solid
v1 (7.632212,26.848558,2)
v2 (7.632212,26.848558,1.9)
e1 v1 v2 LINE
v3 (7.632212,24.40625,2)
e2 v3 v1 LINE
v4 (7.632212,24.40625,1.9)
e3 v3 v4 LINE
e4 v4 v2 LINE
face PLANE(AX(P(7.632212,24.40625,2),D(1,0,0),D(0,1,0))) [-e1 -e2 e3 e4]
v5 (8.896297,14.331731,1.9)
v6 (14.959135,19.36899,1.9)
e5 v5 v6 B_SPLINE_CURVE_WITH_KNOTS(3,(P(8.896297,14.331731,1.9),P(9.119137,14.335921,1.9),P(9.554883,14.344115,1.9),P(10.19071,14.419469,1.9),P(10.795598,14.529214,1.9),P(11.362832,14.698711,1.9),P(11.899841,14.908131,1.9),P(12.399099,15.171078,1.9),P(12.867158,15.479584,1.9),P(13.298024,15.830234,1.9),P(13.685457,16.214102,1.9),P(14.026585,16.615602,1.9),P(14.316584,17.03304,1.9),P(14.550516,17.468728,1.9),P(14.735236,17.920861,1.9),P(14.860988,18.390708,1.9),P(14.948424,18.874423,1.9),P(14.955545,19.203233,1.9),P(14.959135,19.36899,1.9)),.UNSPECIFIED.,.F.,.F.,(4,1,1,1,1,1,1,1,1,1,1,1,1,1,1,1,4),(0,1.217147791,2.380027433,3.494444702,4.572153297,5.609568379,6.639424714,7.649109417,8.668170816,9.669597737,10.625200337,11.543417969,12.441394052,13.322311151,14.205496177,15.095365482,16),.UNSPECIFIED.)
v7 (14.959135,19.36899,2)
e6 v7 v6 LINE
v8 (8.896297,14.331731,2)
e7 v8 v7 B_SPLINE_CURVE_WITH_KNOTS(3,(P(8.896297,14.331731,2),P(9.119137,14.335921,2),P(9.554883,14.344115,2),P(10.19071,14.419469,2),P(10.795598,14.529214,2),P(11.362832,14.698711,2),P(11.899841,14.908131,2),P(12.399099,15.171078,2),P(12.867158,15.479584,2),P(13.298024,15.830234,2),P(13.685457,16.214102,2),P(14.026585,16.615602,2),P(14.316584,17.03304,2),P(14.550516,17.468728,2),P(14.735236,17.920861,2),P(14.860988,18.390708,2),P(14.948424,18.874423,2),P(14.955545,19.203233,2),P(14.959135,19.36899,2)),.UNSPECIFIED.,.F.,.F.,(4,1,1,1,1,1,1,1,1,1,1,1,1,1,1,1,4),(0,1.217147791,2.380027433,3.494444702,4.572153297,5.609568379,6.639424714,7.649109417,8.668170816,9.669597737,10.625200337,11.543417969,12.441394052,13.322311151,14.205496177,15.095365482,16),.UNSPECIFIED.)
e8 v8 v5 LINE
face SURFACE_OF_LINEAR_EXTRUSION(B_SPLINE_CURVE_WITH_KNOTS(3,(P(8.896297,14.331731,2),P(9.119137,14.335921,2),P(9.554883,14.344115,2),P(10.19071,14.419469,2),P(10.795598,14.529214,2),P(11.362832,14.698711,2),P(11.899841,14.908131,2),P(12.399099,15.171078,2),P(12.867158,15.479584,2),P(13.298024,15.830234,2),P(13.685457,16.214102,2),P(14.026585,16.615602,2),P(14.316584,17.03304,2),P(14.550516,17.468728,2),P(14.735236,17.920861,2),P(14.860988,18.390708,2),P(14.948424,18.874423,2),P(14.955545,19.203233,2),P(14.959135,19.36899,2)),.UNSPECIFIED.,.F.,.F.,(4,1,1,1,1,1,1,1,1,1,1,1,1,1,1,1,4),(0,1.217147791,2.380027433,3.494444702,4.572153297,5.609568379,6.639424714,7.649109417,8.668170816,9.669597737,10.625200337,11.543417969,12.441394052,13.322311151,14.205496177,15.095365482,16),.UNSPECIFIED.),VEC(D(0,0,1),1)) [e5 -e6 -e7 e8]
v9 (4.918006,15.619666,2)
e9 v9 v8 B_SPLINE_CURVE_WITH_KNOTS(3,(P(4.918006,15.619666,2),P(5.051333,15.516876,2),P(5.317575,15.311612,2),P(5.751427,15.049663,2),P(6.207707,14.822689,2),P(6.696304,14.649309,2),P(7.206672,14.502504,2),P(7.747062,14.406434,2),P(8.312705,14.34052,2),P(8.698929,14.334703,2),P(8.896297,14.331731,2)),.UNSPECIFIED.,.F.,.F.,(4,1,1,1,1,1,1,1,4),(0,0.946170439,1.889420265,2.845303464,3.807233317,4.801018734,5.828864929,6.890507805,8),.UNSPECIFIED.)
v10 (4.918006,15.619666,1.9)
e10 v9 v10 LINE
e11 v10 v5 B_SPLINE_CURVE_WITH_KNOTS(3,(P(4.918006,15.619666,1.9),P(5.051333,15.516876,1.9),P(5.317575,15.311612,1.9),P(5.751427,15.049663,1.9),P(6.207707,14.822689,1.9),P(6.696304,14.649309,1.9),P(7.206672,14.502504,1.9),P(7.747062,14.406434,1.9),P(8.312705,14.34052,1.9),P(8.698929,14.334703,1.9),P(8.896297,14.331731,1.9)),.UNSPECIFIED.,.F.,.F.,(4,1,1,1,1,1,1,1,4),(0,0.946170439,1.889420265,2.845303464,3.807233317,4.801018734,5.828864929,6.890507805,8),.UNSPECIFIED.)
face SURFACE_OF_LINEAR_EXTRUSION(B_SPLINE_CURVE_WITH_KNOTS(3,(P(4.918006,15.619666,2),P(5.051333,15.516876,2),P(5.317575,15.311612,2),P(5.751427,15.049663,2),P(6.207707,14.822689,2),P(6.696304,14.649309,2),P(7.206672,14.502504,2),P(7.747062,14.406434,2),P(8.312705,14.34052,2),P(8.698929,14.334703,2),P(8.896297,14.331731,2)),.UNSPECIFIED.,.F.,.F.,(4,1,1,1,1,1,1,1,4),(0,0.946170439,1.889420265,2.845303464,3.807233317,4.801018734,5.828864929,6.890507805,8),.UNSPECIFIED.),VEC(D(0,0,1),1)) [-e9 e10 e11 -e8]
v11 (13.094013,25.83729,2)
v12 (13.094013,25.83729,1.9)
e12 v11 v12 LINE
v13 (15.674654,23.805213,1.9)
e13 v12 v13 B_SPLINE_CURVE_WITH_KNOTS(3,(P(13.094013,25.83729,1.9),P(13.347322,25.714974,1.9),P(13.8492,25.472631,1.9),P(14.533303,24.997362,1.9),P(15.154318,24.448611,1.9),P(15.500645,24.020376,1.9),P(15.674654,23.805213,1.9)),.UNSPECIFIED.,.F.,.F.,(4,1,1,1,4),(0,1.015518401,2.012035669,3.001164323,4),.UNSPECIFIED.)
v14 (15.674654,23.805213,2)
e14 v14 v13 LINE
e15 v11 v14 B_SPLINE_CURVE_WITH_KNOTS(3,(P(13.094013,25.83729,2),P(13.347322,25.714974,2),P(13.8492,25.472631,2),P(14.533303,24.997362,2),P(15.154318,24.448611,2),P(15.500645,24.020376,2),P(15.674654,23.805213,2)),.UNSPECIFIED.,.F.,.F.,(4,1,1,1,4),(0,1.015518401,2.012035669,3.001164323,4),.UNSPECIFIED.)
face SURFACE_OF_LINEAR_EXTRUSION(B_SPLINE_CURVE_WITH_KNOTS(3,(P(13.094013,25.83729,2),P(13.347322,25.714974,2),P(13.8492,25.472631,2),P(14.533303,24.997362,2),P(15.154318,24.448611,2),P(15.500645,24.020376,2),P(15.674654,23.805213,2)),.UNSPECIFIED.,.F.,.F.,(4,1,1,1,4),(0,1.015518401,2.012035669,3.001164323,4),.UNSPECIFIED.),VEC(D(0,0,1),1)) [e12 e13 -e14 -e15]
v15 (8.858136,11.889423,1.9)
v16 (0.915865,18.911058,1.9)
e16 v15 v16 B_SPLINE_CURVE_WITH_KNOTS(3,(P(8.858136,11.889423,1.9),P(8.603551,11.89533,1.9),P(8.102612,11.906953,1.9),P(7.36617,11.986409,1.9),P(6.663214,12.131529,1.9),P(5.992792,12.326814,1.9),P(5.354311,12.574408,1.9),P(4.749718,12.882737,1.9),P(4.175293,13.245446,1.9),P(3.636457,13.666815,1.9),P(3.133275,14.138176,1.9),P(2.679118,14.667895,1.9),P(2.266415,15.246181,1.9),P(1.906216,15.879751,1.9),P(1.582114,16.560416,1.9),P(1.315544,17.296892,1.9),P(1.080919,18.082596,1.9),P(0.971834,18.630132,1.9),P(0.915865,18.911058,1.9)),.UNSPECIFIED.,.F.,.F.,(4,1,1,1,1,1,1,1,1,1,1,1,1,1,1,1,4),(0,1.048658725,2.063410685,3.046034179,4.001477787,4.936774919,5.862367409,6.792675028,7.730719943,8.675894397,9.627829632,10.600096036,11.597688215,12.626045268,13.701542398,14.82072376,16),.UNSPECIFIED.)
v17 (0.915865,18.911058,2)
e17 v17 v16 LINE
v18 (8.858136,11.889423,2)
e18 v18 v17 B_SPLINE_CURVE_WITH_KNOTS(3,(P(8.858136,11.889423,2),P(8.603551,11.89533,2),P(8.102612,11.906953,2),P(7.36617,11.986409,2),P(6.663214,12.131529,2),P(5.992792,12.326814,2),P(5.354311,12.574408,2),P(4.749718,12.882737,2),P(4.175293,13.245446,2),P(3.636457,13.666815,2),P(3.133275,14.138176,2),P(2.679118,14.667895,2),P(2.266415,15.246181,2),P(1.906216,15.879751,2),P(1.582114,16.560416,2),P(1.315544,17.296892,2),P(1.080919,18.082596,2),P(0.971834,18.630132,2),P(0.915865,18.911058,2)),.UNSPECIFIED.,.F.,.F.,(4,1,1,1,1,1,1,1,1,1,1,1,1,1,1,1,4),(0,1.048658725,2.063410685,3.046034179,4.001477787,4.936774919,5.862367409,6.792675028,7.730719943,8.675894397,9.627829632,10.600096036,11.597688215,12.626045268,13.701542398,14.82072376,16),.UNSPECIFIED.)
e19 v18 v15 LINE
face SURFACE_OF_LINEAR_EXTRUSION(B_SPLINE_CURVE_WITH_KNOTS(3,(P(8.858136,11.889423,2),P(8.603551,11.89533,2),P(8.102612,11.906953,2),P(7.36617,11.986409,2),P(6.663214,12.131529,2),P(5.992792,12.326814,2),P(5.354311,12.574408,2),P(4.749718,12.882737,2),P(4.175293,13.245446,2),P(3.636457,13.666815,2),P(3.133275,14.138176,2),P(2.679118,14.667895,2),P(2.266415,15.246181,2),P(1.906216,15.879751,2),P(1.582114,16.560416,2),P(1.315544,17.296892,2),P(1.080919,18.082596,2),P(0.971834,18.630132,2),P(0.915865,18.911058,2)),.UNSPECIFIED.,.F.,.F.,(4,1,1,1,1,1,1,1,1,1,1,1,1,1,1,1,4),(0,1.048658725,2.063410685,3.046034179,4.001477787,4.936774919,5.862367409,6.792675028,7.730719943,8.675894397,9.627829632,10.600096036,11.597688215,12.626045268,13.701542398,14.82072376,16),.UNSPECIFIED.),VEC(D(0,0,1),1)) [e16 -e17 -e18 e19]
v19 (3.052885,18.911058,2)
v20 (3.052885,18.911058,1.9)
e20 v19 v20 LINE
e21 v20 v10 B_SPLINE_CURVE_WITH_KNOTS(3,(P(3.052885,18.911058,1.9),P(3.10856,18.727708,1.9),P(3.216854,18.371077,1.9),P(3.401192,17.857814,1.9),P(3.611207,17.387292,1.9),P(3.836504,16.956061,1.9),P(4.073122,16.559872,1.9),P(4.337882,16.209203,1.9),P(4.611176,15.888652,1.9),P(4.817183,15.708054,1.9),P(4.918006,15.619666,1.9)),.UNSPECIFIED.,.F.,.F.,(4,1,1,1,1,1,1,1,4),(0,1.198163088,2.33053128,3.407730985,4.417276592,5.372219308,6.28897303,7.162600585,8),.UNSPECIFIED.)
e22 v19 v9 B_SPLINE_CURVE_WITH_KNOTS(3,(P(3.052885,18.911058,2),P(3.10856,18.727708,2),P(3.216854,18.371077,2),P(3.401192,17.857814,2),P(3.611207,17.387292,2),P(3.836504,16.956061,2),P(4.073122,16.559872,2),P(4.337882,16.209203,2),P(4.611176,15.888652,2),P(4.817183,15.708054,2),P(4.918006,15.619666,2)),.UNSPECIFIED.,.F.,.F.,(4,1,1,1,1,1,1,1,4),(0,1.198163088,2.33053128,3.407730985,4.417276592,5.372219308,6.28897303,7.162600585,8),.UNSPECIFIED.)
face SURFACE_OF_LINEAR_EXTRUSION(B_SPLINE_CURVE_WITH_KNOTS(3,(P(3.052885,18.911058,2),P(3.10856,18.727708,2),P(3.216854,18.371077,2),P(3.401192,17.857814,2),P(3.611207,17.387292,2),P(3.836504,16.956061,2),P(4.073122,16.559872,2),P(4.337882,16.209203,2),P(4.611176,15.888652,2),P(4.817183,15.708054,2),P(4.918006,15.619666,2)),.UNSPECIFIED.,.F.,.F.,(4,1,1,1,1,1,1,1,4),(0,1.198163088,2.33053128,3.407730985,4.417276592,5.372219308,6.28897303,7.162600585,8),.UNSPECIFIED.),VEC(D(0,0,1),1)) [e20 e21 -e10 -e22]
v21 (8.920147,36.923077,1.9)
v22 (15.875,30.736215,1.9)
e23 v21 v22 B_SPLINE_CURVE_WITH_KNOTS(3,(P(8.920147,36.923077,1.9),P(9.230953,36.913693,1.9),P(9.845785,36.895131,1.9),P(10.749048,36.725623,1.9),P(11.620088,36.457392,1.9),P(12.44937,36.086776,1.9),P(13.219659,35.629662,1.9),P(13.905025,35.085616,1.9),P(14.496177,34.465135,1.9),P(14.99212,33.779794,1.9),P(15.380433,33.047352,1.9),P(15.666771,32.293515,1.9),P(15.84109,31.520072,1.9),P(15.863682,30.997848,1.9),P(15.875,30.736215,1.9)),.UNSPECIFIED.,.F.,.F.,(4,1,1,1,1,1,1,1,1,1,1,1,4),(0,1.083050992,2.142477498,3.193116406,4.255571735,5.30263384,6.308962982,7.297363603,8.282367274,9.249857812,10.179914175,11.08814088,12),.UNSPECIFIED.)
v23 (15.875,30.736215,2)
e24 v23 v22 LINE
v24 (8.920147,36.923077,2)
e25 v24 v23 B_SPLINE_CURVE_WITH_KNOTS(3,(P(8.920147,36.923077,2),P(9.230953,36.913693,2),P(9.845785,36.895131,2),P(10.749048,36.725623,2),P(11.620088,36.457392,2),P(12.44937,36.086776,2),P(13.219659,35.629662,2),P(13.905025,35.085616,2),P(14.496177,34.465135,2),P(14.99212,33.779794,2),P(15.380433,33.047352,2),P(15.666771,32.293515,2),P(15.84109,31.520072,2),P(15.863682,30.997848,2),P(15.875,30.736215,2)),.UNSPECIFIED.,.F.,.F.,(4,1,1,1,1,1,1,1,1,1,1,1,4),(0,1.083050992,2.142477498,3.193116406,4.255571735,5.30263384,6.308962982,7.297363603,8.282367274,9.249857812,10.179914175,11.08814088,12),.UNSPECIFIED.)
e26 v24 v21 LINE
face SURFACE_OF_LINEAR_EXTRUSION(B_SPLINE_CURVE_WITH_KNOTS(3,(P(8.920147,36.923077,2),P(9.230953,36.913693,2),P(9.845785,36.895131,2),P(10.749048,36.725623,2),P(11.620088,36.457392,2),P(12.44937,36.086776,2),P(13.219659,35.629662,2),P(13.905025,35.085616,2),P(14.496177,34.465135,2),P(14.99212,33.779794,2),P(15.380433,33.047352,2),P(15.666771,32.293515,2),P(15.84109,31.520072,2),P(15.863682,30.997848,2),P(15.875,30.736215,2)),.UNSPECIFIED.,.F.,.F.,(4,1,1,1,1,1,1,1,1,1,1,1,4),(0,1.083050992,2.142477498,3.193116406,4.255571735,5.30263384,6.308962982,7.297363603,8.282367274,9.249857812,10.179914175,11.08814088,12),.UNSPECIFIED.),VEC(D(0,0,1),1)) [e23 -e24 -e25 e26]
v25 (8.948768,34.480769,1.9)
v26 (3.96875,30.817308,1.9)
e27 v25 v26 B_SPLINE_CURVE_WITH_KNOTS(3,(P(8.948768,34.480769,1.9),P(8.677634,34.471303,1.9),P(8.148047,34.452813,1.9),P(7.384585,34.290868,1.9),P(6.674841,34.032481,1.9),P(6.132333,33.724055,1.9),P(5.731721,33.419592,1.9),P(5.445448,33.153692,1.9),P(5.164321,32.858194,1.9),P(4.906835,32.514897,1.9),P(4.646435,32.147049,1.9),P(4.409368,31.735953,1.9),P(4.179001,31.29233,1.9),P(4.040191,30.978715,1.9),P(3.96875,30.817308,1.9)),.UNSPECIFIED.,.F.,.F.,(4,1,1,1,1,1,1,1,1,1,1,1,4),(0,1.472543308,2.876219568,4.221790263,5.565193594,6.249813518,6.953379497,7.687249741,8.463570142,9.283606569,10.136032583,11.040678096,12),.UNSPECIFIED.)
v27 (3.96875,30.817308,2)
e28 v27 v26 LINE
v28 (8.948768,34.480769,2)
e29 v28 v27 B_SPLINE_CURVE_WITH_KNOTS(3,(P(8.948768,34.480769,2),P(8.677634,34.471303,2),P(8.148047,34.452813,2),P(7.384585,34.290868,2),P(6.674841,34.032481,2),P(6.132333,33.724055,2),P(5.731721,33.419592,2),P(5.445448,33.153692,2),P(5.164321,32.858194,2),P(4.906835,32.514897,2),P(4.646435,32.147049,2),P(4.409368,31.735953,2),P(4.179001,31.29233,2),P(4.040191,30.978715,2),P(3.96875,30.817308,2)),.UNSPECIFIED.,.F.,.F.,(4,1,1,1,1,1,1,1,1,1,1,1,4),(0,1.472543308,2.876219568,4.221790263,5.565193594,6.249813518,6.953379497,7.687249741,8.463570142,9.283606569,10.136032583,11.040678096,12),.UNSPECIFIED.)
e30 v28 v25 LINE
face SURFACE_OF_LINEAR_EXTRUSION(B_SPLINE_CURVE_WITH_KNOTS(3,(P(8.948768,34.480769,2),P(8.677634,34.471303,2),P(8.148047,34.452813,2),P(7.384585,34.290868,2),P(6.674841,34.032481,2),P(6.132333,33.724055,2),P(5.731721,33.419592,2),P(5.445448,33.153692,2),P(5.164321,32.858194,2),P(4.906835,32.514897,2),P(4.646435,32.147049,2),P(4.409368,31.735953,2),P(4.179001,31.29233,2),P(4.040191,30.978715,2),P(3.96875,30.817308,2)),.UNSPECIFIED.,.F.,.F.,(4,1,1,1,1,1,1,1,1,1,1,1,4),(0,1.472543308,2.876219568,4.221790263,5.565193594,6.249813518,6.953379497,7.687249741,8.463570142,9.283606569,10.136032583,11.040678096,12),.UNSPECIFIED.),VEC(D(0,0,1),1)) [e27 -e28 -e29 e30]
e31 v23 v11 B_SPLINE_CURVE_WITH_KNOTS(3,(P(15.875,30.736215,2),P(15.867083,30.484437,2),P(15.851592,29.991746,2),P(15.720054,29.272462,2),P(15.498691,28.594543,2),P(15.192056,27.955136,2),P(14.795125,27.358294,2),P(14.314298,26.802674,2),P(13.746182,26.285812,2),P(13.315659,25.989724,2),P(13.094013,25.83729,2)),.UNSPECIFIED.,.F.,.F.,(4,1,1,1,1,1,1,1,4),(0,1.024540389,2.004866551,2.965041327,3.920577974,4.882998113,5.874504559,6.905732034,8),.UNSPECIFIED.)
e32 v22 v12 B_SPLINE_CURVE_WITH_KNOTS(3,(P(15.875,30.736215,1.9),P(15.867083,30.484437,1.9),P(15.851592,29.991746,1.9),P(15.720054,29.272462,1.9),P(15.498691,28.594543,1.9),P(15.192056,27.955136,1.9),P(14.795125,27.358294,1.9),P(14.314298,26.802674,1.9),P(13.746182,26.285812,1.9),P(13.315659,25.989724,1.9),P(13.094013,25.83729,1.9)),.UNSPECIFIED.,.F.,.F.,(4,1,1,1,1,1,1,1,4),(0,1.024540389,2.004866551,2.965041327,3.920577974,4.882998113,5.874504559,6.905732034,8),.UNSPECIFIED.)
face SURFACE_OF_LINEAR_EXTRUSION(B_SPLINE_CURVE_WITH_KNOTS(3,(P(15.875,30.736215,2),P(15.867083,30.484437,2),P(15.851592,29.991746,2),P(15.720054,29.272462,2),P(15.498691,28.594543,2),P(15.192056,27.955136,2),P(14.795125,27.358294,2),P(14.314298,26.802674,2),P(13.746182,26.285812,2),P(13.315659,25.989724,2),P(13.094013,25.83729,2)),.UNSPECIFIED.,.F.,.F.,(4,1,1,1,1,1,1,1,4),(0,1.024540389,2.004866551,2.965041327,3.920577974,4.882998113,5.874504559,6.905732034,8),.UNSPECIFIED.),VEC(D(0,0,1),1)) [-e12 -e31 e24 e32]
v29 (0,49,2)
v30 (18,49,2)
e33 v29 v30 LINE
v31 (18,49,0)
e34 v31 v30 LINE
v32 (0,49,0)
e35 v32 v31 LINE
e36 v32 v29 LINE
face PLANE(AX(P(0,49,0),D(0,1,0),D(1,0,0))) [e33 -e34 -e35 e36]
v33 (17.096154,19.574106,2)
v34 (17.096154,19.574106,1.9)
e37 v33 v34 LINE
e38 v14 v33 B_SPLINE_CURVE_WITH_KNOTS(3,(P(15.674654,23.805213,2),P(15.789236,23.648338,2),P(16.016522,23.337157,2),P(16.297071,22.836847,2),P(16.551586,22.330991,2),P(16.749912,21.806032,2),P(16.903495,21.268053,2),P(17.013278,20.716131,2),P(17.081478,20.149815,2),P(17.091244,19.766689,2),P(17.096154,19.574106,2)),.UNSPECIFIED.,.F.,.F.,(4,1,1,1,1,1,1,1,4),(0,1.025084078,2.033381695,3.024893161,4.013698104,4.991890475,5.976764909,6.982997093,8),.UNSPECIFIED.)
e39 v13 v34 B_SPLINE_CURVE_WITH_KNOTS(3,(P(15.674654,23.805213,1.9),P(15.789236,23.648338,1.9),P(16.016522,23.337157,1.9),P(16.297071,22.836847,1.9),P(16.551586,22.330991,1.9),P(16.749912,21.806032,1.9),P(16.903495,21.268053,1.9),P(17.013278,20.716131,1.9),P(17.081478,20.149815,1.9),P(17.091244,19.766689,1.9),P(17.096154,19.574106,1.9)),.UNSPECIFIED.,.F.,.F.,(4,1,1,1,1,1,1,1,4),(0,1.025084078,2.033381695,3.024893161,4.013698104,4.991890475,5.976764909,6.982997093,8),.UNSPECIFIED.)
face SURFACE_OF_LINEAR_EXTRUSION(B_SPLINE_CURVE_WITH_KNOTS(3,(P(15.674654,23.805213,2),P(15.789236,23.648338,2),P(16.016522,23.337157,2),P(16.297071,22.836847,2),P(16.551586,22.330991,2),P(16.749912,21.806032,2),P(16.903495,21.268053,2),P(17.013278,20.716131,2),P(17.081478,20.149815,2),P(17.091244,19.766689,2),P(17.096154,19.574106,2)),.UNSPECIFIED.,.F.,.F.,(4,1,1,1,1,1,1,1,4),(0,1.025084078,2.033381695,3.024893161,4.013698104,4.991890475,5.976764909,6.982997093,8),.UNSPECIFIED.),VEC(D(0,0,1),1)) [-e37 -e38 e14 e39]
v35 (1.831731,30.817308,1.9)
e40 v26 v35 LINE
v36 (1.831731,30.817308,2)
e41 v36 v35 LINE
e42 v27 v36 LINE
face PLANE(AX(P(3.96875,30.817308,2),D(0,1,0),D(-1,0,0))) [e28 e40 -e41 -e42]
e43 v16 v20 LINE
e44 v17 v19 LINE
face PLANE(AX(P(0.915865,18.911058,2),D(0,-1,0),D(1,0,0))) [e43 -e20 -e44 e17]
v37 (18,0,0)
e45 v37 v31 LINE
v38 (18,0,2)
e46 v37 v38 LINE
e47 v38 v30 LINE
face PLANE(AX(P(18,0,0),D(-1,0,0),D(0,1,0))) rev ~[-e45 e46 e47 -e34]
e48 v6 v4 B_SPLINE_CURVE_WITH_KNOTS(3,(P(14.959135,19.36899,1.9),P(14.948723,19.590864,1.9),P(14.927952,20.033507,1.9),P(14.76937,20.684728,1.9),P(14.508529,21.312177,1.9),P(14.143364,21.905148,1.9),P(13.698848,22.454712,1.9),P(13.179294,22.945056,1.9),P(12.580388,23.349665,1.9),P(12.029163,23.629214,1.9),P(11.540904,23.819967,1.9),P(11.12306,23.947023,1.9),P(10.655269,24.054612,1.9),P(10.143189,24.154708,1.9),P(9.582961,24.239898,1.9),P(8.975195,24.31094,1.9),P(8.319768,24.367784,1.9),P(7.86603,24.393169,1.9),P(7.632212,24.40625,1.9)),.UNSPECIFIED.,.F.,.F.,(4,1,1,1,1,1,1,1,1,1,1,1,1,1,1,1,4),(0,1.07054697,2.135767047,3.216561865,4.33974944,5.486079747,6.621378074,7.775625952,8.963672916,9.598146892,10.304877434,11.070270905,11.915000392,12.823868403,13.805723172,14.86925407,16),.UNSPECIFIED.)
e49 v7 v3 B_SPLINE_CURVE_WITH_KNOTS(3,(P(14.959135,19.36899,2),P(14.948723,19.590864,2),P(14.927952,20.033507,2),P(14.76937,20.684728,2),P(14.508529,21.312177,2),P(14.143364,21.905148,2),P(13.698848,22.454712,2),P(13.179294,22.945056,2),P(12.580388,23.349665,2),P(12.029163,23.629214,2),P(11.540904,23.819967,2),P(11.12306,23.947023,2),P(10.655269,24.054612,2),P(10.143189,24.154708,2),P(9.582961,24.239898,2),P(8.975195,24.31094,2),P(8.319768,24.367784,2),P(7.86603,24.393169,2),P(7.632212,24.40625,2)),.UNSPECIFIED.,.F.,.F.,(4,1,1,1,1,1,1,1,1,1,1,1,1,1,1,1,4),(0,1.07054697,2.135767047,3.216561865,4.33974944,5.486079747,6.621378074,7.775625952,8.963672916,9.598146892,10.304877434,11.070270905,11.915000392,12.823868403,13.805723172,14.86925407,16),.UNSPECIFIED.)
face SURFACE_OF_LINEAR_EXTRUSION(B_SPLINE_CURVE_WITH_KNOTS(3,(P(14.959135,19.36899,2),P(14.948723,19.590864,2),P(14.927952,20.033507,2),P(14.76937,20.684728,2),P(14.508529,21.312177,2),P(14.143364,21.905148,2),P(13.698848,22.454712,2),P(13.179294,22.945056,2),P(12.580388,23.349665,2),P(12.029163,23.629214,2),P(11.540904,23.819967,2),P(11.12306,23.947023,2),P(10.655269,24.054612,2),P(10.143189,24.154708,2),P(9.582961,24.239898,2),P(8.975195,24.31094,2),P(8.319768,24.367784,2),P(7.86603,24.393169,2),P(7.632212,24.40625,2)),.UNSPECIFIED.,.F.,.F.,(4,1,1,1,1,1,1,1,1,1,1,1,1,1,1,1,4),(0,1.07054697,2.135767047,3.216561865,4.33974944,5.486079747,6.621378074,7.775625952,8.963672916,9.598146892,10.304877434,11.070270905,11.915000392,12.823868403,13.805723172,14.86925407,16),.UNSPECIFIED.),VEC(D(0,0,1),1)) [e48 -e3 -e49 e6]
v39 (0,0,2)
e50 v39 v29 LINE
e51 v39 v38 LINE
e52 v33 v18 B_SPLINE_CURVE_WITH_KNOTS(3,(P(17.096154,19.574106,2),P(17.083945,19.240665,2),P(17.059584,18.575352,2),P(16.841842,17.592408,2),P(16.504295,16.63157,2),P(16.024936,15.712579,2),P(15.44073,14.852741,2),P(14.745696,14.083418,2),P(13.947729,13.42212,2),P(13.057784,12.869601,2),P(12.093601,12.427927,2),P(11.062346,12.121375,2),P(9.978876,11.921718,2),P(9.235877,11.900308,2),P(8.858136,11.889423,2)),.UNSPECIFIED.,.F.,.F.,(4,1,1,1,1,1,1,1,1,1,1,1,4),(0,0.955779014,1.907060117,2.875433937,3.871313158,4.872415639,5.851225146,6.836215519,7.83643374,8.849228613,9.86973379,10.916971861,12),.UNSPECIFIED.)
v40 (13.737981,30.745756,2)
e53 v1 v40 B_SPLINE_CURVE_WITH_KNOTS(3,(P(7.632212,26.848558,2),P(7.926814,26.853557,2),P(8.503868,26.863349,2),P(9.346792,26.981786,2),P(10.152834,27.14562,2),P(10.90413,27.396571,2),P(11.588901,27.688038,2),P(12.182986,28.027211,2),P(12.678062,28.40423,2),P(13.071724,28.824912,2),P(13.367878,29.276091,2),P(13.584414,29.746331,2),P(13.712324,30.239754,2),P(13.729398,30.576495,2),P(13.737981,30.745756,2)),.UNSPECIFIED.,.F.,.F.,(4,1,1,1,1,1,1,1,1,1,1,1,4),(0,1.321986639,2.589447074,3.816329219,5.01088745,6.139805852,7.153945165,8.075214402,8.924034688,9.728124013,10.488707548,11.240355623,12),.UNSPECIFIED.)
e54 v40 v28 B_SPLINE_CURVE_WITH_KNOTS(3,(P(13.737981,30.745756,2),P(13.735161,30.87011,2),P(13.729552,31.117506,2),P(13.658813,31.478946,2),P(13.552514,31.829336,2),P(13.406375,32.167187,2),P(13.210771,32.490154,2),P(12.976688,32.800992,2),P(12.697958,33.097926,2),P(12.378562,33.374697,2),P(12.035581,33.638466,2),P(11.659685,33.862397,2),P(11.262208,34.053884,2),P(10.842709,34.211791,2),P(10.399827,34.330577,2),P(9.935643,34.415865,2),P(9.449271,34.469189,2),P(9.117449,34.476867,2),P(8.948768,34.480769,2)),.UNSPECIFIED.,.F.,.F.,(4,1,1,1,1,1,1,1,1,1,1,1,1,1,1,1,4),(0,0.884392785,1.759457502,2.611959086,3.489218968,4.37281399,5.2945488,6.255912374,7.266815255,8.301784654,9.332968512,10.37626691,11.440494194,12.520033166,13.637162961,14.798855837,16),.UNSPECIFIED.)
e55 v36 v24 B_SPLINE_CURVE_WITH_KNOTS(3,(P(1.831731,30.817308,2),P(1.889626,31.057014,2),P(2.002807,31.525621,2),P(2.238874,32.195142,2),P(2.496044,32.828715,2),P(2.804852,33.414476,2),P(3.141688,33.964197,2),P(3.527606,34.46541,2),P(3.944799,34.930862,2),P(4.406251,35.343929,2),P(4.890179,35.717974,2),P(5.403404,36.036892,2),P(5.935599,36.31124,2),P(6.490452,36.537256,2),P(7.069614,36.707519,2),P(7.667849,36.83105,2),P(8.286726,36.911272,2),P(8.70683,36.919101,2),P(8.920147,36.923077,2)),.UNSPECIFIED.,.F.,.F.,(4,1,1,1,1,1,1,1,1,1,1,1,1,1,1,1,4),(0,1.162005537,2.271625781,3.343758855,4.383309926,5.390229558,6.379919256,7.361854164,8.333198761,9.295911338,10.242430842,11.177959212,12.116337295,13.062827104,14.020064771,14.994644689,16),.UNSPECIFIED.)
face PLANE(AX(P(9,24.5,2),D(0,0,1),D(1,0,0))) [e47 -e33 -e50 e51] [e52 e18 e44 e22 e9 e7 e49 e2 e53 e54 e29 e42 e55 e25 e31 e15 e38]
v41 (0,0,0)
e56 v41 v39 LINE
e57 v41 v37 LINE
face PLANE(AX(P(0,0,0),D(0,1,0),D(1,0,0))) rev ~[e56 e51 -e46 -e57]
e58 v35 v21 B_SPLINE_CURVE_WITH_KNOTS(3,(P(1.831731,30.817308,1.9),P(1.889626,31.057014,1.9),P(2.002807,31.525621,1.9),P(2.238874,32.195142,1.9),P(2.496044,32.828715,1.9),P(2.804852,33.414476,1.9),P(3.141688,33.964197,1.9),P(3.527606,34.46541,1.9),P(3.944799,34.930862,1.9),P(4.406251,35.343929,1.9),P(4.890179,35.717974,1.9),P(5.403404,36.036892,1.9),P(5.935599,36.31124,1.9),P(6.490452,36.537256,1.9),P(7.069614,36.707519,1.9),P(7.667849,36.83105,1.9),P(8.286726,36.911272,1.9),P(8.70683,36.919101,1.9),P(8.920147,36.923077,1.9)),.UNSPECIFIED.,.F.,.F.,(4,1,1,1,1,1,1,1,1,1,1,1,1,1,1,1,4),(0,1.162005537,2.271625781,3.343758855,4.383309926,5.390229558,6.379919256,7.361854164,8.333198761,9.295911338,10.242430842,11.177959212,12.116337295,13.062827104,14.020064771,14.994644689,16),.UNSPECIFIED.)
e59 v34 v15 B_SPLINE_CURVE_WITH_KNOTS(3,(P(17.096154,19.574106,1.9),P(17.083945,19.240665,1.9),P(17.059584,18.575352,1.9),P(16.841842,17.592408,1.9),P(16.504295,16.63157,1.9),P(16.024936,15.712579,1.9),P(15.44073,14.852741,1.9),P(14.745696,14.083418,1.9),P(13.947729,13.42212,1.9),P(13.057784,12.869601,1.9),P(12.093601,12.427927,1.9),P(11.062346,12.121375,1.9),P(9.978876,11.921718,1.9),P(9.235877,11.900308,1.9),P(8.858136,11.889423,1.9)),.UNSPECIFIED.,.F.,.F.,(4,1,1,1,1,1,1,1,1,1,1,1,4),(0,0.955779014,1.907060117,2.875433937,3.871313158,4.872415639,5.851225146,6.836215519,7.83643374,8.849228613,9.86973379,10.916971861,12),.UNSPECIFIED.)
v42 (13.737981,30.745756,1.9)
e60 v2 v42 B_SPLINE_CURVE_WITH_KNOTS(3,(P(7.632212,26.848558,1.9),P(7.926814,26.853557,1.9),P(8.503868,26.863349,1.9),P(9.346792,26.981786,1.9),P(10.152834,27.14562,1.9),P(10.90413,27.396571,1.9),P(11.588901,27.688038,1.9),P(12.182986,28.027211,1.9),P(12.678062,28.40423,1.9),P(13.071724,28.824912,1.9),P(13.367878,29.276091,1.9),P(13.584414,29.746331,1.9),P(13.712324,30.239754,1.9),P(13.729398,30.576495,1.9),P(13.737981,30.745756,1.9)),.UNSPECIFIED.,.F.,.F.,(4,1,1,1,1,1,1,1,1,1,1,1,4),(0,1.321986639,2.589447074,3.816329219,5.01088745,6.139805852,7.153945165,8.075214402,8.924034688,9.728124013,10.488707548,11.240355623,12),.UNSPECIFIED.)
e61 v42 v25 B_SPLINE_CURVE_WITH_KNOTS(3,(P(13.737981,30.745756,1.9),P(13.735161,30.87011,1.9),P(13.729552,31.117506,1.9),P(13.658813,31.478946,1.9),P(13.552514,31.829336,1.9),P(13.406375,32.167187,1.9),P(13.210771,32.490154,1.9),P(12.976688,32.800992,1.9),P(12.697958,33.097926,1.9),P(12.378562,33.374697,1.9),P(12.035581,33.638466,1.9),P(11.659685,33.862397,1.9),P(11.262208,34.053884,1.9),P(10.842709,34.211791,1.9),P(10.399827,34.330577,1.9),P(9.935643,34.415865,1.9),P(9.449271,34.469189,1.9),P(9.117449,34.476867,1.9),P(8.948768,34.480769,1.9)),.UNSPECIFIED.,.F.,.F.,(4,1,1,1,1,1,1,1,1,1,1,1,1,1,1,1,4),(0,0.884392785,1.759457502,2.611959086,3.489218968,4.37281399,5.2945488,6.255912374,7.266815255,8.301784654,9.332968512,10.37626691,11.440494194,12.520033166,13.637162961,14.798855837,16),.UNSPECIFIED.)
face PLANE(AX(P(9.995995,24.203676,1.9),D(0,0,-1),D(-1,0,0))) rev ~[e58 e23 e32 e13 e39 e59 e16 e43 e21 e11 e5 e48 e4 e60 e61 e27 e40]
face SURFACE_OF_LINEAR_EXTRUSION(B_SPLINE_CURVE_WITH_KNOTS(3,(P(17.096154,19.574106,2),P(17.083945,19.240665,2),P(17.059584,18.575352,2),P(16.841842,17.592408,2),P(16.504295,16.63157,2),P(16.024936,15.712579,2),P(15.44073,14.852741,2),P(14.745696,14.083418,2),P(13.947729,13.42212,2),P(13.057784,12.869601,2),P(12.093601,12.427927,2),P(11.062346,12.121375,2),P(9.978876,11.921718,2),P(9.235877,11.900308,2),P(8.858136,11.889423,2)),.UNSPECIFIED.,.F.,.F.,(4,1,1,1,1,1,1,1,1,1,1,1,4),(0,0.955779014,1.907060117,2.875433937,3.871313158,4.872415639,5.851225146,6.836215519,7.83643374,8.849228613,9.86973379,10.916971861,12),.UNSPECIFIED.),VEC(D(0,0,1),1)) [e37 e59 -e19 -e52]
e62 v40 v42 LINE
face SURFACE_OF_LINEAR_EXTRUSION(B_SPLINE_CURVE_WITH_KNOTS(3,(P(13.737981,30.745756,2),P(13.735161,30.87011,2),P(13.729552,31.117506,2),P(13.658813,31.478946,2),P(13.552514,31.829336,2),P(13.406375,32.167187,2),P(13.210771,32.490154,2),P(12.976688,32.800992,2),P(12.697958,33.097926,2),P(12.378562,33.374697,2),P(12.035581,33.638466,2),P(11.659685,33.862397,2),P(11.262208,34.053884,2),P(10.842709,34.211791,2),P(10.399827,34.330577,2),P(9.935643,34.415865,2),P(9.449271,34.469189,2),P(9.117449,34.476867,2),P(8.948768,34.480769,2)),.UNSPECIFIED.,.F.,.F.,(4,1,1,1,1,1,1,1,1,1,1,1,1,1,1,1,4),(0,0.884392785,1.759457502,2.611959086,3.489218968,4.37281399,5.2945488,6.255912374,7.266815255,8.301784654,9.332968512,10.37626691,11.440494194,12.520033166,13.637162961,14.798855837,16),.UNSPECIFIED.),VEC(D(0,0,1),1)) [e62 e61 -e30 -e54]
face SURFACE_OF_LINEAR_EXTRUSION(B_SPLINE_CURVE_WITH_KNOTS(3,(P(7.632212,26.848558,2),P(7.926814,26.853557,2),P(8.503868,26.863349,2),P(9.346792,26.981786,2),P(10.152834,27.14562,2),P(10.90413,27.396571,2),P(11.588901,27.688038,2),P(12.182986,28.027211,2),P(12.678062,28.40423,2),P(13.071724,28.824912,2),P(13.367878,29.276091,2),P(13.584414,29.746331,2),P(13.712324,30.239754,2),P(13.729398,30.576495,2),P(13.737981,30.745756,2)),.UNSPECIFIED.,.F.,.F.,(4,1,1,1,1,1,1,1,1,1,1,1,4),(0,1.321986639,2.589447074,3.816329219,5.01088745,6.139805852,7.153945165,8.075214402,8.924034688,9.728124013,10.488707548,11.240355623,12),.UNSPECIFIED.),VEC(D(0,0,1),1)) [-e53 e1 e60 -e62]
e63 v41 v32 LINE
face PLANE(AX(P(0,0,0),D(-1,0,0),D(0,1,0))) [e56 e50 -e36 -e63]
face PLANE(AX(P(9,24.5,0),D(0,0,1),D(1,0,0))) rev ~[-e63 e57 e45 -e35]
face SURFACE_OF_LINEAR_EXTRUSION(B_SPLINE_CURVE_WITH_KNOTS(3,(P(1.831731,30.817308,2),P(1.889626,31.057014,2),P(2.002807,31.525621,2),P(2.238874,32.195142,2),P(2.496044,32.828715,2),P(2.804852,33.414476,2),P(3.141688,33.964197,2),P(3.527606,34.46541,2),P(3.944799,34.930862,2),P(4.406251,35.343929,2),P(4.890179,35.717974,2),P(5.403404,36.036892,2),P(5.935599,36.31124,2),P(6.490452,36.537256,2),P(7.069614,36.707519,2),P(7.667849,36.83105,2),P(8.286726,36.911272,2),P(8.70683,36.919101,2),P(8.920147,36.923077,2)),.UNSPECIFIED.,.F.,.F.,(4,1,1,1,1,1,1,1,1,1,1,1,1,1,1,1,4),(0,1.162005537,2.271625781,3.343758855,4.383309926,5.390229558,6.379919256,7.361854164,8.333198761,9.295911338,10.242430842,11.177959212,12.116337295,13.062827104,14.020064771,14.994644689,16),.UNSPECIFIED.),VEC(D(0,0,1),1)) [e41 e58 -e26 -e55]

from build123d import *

# Parameters (mm, degrees)
SKETCH_1_W          = 18
SKETCH_1_H          = 49
EXTRUDE_1_DEPTH     = 2
CUT_EXTRUDE_1_DEPTH = 0.1


with BuildPart() as part:
    # ｽｹｯﾁ1 → ﾎﾞｽ - 押し出し1 (new body)
    with BuildSketch(Plane.XY):
        with Locations((9, 24.5)):
            Rectangle(SKETCH_1_W, SKETCH_1_H)
    extrude(amount=EXTRUDE_1_DEPTH)

    # ｽｹｯﾁ2 → ｶｯﾄ - 押し出し1 (cut)
    with BuildSketch(Plane.XY.offset(2)):
        with BuildLine():
            Line((3.96875, 30.817307692), (1.831730769, 30.817307692))
            add(Edge.make_bspline(
                [(1.831730769, 30.817307692), (1.889626105, 31.057014414), (2.002806751, 31.525621447), (2.238874171, 32.195142276), (2.496044103, 32.828714805), (2.804852118, 33.414475592), (3.141688464, 33.964196698), (3.527605552, 34.465409849), (3.944798664, 34.930862346), (4.406250551, 35.343929194), (4.890179482, 35.717974102), (5.403404305, 36.036891903), (5.93559935, 36.311240157), (6.490451915, 36.537256378), (7.069613904, 36.707519315), (7.667849377, 36.831050439), (8.286726048, 36.911272127), (8.706830191, 36.919101426), (8.920147236, 36.923076923)],
                knots=[0, 0, 0, 0, 1.162005537, 2.271625781, 3.343758855, 4.383309926, 5.390229558, 6.379919256, 7.361854164, 8.333198761, 9.295911338, 10.242430842, 11.177959212, 12.116337295, 13.062827104, 14.020064771, 14.994644689, 16, 16, 16, 16], degree=3))
            add(Edge.make_bspline(
                [(8.920147236, 36.923076923), (9.230953034, 36.913693232), (9.845785055, 36.895130534), (10.749047928, 36.725623386), (11.620087537, 36.457391682), (12.449369741, 36.086775788), (13.219659434, 35.629662104), (13.905025276, 35.085616305), (14.496177465, 34.465135343), (14.992119571, 33.779794147), (15.380433403, 33.047352199), (15.666771052, 32.293515415), (15.841089988, 31.520072003), (15.863681634, 30.997848371), (15.875, 30.736215445)],
                knots=[0, 0, 0, 0, 1.083050992, 2.142477498, 3.193116406, 4.255571735, 5.30263384, 6.308962982, 7.297363603, 8.282367274, 9.249857812, 10.179914175, 11.08814088, 12, 12, 12, 12], degree=3))
            add(Edge.make_bspline(
                [(15.875, 30.736215445), (15.867083425, 30.484437074), (15.851591917, 29.991745873), (15.72005367, 29.272462115), (15.498690882, 28.594543371), (15.192055533, 27.955135821), (14.795124628, 27.358293607), (14.314297887, 26.802673886), (13.746181563, 26.285812292), (13.315658788, 25.989724449), (13.094012921, 25.837289663)],
                knots=[0, 0, 0, 0, 1.024540389, 2.004866551, 2.965041327, 3.920577974, 4.882998113, 5.874504559, 6.905732034, 8, 8, 8, 8], degree=3))
            add(Edge.make_bspline(
                [(13.094012921, 25.837289663), (13.347321822, 25.714973889), (13.84920002, 25.472630963), (14.53330273, 24.997362327), (15.154318275, 24.448611107), (15.500645363, 24.020376272), (15.674654447, 23.805213341)],
                knots=[0, 0, 0, 0, 1.015518401, 2.012035669, 3.001164323, 4, 4, 4, 4], degree=3))
            add(Edge.make_bspline(
                [(15.674654447, 23.805213341), (15.789235723, 23.648338281), (16.016521926, 23.337157099), (16.297070826, 22.836846773), (16.551586407, 22.330991105), (16.749912006, 21.806031574), (16.903494922, 21.268052678), (17.01327757, 20.716130662), (17.081477528, 20.14981483), (17.091244409, 19.766688849), (17.096153846, 19.57410607)],
                knots=[0, 0, 0, 0, 1.025084078, 2.033381695, 3.024893161, 4.013698104, 4.991890475, 5.976764909, 6.982997093, 8, 8, 8, 8], degree=3))
            add(Edge.make_bspline(
                [(17.096153846, 19.57410607), (17.083944745, 19.240664931), (17.059584, 18.575351833), (16.841841994, 17.592407744), (16.504294767, 16.631569952), (16.024935971, 15.712578635), (15.440730241, 14.852740686), (14.745695589, 14.08341794), (13.947729132, 13.422120293), (13.057783557, 12.869600706), (12.09360095, 12.427926985), (11.062345583, 12.121375454), (9.978876466, 11.921717849), (9.235876817, 11.900307902), (8.858135517, 11.889423077)],
                knots=[0, 0, 0, 0, 0.955779014, 1.907060117, 2.875433937, 3.871313158, 4.872415639, 5.851225146, 6.836215519, 7.83643374, 8.849228613, 9.86973379, 10.916971861, 12, 12, 12, 12], degree=3))
            add(Edge.make_bspline(
                [(8.858135517, 11.889423077), (8.603550635, 11.895330028), (8.10261248, 11.906952938), (7.366170107, 11.986409135), (6.663213546, 12.131529349), (5.992792353, 12.326814337), (5.354310945, 12.574408154), (4.749717658, 12.882737153), (4.175292847, 13.245445765), (3.636457125, 13.666815354), (3.133274727, 14.138175897), (2.6791178, 14.667895233), (2.266414566, 15.246181142), (1.906215542, 15.879750506), (1.582114132, 16.56041556), (1.315543695, 17.296891951), (1.080918665, 18.082595744), (0.971833846, 18.630131797), (0.915865385, 18.911057692)],
                knots=[0, 0, 0, 0, 1.048658725, 2.063410685, 3.046034179, 4.001477787, 4.936774919, 5.862367409, 6.792675028, 7.730719943, 8.675894397, 9.627829632, 10.600096036, 11.597688215, 12.626045268, 13.701542398, 14.82072376, 16, 16, 16, 16], degree=3))
            Line((0.915865385, 18.911057692), (3.052884615, 18.911057692))
            add(Edge.make_bspline(
                [(3.052884615, 18.911057692), (3.108560223, 18.727708156), (3.216854116, 18.371077381), (3.401192108, 17.857813873), (3.611206602, 17.387292118), (3.836503867, 16.95606052), (4.073121509, 16.55987221), (4.337881982, 16.209203423), (4.61117563, 15.888651779), (4.817183373, 15.708053616), (4.91800631, 15.619666466)],
                knots=[0, 0, 0, 0, 1.198163088, 2.33053128, 3.407730985, 4.417276592, 5.372219308, 6.28897303, 7.162600585, 8, 8, 8, 8], degree=3))
            add(Edge.make_bspline(
                [(4.91800631, 15.619666466), (5.051333018, 15.516875838), (5.317574885, 15.311611871), (5.7514266, 15.049663291), (6.207707343, 14.822689173), (6.696303609, 14.649309029), (7.206671958, 14.502503872), (7.747061711, 14.406433912), (8.312705313, 14.340519746), (8.698928847, 14.334703158), (8.896296575, 14.331730769)],
                knots=[0, 0, 0, 0, 0.946170439, 1.889420265, 2.845303464, 3.807233317, 4.801018734, 5.828864929, 6.890507805, 8, 8, 8, 8], degree=3))
            add(Edge.make_bspline(
                [(8.896296575, 14.331730769), (9.119137369, 14.335921125), (9.554883306, 14.344115003), (10.190710117, 14.419469365), (10.795598287, 14.529213785), (11.362831943, 14.698711043), (11.899841288, 14.908130765), (12.399098582, 15.171077952), (12.867157805, 15.479584005), (13.298023938, 15.830234352), (13.685456766, 16.214102024), (14.026584526, 16.615601668), (14.316584455, 17.033040437), (14.550515585, 17.468728367), (14.735236293, 17.920861263), (14.860988069, 18.390707941), (14.94842427, 18.87442327), (14.95554497, 19.203232863), (14.959134615, 19.368990385)],
                knots=[0, 0, 0, 0, 1.217147791, 2.380027433, 3.494444702, 4.572153297, 5.609568379, 6.639424714, 7.649109417, 8.668170816, 9.669597737, 10.625200337, 11.543417969, 12.441394052, 13.322311151, 14.205496177, 15.095365482, 16, 16, 16, 16], degree=3))
            add(Edge.make_bspline(
                [(14.959134615, 19.368990385), (14.9487231, 19.590863958), (14.927951874, 20.033507093), (14.769370289, 20.684728446), (14.508529088, 21.31217702), (14.143364324, 21.905147663), (13.698848027, 22.454712279), (13.179293929, 22.945055758), (12.580387589, 23.349664771), (12.029163123, 23.629214379), (11.540903755, 23.819966623), (11.1230598, 23.947023077), (10.655269338, 24.054612413), (10.143189357, 24.154708404), (9.582961402, 24.23989829), (8.975195387, 24.310939929), (8.319768151, 24.367784047), (7.866030041, 24.393168821), (7.632211538, 24.40625)],
                knots=[0, 0, 0, 0, 1.07054697, 2.135767047, 3.216561865, 4.33974944, 5.486079747, 6.621378074, 7.775625952, 8.963672916, 9.598146892, 10.304877434, 11.070270905, 11.915000392, 12.823868403, 13.805723172, 14.86925407, 16, 16, 16, 16], degree=3))
            Line((7.632211538, 24.40625), (7.632211538, 26.848557692))
            add(Edge.make_bspline(
                [(7.632211538, 26.848557692), (7.926814112, 26.853556982), (8.503868184, 26.863349362), (9.346791937, 26.981786004), (10.152833578, 27.145620277), (10.904129805, 27.396571318), (11.588900515, 27.688038337), (12.182985665, 28.027211406), (12.678062149, 28.40422961), (13.071724082, 28.824912185), (13.367878298, 29.276091347), (13.584414188, 29.746331464), (13.712323551, 30.239754093), (13.729398249, 30.576494602), (13.737980769, 30.745755709)],
                knots=[0, 0, 0, 0, 1.321986639, 2.589447074, 3.816329219, 5.01088745, 6.139805852, 7.153945165, 8.075214402, 8.924034688, 9.728124013, 10.488707548, 11.240355623, 12, 12, 12, 12], degree=3))
            add(Edge.make_bspline(
                [(13.737980769, 30.745755709), (13.735161295, 30.870109654), (13.729552084, 31.117505929), (13.658813462, 31.478946128), (13.552514183, 31.829336493), (13.40637531, 32.167186952), (13.21077128, 32.490154351), (12.976687693, 32.800992173), (12.697958296, 33.097925741), (12.378561594, 33.374697201), (12.035581278, 33.638466475), (11.659685487, 33.862396755), (11.26220809, 34.053883695), (10.842709027, 34.211791201), (10.399826937, 34.330576715), (9.935642679, 34.415865208), (9.449271118, 34.469189251), (9.117449155, 34.47686651), (8.948768029, 34.480769231)],
                knots=[0, 0, 0, 0, 0.884392785, 1.759457502, 2.611959086, 3.489218968, 4.37281399, 5.2945488, 6.255912374, 7.266815255, 8.301784654, 9.332968512, 10.37626691, 11.440494194, 12.520033166, 13.637162961, 14.798855837, 16, 16, 16, 16], degree=3))
            add(Edge.make_bspline(
                [(8.948768029, 34.480769231), (8.677634359, 34.471303), (8.148047241, 34.45281325), (7.384585039, 34.290867747), (6.674840998, 34.032481144), (6.132333285, 33.724054708), (5.731721485, 33.419591935), (5.445448031, 33.153692127), (5.164320987, 32.858193809), (4.906835221, 32.514896649), (4.646435487, 32.14704938), (4.409368024, 31.735952547), (4.179001189, 31.292329793), (4.040190985, 30.97871485), (3.96875, 30.817307692)],
                knots=[0, 0, 0, 0, 1.472543308, 2.876219568, 4.221790263, 5.565193594, 6.249813518, 6.953379497, 7.687249741, 8.463570142, 9.283606569, 10.136032583, 11.040678096, 12, 12, 12, 12], degree=3))
        make_face()
    extrude(amount=-CUT_EXTRUDE_1_DEPTH, mode=Mode.SUBTRACT)


solid = part.part
